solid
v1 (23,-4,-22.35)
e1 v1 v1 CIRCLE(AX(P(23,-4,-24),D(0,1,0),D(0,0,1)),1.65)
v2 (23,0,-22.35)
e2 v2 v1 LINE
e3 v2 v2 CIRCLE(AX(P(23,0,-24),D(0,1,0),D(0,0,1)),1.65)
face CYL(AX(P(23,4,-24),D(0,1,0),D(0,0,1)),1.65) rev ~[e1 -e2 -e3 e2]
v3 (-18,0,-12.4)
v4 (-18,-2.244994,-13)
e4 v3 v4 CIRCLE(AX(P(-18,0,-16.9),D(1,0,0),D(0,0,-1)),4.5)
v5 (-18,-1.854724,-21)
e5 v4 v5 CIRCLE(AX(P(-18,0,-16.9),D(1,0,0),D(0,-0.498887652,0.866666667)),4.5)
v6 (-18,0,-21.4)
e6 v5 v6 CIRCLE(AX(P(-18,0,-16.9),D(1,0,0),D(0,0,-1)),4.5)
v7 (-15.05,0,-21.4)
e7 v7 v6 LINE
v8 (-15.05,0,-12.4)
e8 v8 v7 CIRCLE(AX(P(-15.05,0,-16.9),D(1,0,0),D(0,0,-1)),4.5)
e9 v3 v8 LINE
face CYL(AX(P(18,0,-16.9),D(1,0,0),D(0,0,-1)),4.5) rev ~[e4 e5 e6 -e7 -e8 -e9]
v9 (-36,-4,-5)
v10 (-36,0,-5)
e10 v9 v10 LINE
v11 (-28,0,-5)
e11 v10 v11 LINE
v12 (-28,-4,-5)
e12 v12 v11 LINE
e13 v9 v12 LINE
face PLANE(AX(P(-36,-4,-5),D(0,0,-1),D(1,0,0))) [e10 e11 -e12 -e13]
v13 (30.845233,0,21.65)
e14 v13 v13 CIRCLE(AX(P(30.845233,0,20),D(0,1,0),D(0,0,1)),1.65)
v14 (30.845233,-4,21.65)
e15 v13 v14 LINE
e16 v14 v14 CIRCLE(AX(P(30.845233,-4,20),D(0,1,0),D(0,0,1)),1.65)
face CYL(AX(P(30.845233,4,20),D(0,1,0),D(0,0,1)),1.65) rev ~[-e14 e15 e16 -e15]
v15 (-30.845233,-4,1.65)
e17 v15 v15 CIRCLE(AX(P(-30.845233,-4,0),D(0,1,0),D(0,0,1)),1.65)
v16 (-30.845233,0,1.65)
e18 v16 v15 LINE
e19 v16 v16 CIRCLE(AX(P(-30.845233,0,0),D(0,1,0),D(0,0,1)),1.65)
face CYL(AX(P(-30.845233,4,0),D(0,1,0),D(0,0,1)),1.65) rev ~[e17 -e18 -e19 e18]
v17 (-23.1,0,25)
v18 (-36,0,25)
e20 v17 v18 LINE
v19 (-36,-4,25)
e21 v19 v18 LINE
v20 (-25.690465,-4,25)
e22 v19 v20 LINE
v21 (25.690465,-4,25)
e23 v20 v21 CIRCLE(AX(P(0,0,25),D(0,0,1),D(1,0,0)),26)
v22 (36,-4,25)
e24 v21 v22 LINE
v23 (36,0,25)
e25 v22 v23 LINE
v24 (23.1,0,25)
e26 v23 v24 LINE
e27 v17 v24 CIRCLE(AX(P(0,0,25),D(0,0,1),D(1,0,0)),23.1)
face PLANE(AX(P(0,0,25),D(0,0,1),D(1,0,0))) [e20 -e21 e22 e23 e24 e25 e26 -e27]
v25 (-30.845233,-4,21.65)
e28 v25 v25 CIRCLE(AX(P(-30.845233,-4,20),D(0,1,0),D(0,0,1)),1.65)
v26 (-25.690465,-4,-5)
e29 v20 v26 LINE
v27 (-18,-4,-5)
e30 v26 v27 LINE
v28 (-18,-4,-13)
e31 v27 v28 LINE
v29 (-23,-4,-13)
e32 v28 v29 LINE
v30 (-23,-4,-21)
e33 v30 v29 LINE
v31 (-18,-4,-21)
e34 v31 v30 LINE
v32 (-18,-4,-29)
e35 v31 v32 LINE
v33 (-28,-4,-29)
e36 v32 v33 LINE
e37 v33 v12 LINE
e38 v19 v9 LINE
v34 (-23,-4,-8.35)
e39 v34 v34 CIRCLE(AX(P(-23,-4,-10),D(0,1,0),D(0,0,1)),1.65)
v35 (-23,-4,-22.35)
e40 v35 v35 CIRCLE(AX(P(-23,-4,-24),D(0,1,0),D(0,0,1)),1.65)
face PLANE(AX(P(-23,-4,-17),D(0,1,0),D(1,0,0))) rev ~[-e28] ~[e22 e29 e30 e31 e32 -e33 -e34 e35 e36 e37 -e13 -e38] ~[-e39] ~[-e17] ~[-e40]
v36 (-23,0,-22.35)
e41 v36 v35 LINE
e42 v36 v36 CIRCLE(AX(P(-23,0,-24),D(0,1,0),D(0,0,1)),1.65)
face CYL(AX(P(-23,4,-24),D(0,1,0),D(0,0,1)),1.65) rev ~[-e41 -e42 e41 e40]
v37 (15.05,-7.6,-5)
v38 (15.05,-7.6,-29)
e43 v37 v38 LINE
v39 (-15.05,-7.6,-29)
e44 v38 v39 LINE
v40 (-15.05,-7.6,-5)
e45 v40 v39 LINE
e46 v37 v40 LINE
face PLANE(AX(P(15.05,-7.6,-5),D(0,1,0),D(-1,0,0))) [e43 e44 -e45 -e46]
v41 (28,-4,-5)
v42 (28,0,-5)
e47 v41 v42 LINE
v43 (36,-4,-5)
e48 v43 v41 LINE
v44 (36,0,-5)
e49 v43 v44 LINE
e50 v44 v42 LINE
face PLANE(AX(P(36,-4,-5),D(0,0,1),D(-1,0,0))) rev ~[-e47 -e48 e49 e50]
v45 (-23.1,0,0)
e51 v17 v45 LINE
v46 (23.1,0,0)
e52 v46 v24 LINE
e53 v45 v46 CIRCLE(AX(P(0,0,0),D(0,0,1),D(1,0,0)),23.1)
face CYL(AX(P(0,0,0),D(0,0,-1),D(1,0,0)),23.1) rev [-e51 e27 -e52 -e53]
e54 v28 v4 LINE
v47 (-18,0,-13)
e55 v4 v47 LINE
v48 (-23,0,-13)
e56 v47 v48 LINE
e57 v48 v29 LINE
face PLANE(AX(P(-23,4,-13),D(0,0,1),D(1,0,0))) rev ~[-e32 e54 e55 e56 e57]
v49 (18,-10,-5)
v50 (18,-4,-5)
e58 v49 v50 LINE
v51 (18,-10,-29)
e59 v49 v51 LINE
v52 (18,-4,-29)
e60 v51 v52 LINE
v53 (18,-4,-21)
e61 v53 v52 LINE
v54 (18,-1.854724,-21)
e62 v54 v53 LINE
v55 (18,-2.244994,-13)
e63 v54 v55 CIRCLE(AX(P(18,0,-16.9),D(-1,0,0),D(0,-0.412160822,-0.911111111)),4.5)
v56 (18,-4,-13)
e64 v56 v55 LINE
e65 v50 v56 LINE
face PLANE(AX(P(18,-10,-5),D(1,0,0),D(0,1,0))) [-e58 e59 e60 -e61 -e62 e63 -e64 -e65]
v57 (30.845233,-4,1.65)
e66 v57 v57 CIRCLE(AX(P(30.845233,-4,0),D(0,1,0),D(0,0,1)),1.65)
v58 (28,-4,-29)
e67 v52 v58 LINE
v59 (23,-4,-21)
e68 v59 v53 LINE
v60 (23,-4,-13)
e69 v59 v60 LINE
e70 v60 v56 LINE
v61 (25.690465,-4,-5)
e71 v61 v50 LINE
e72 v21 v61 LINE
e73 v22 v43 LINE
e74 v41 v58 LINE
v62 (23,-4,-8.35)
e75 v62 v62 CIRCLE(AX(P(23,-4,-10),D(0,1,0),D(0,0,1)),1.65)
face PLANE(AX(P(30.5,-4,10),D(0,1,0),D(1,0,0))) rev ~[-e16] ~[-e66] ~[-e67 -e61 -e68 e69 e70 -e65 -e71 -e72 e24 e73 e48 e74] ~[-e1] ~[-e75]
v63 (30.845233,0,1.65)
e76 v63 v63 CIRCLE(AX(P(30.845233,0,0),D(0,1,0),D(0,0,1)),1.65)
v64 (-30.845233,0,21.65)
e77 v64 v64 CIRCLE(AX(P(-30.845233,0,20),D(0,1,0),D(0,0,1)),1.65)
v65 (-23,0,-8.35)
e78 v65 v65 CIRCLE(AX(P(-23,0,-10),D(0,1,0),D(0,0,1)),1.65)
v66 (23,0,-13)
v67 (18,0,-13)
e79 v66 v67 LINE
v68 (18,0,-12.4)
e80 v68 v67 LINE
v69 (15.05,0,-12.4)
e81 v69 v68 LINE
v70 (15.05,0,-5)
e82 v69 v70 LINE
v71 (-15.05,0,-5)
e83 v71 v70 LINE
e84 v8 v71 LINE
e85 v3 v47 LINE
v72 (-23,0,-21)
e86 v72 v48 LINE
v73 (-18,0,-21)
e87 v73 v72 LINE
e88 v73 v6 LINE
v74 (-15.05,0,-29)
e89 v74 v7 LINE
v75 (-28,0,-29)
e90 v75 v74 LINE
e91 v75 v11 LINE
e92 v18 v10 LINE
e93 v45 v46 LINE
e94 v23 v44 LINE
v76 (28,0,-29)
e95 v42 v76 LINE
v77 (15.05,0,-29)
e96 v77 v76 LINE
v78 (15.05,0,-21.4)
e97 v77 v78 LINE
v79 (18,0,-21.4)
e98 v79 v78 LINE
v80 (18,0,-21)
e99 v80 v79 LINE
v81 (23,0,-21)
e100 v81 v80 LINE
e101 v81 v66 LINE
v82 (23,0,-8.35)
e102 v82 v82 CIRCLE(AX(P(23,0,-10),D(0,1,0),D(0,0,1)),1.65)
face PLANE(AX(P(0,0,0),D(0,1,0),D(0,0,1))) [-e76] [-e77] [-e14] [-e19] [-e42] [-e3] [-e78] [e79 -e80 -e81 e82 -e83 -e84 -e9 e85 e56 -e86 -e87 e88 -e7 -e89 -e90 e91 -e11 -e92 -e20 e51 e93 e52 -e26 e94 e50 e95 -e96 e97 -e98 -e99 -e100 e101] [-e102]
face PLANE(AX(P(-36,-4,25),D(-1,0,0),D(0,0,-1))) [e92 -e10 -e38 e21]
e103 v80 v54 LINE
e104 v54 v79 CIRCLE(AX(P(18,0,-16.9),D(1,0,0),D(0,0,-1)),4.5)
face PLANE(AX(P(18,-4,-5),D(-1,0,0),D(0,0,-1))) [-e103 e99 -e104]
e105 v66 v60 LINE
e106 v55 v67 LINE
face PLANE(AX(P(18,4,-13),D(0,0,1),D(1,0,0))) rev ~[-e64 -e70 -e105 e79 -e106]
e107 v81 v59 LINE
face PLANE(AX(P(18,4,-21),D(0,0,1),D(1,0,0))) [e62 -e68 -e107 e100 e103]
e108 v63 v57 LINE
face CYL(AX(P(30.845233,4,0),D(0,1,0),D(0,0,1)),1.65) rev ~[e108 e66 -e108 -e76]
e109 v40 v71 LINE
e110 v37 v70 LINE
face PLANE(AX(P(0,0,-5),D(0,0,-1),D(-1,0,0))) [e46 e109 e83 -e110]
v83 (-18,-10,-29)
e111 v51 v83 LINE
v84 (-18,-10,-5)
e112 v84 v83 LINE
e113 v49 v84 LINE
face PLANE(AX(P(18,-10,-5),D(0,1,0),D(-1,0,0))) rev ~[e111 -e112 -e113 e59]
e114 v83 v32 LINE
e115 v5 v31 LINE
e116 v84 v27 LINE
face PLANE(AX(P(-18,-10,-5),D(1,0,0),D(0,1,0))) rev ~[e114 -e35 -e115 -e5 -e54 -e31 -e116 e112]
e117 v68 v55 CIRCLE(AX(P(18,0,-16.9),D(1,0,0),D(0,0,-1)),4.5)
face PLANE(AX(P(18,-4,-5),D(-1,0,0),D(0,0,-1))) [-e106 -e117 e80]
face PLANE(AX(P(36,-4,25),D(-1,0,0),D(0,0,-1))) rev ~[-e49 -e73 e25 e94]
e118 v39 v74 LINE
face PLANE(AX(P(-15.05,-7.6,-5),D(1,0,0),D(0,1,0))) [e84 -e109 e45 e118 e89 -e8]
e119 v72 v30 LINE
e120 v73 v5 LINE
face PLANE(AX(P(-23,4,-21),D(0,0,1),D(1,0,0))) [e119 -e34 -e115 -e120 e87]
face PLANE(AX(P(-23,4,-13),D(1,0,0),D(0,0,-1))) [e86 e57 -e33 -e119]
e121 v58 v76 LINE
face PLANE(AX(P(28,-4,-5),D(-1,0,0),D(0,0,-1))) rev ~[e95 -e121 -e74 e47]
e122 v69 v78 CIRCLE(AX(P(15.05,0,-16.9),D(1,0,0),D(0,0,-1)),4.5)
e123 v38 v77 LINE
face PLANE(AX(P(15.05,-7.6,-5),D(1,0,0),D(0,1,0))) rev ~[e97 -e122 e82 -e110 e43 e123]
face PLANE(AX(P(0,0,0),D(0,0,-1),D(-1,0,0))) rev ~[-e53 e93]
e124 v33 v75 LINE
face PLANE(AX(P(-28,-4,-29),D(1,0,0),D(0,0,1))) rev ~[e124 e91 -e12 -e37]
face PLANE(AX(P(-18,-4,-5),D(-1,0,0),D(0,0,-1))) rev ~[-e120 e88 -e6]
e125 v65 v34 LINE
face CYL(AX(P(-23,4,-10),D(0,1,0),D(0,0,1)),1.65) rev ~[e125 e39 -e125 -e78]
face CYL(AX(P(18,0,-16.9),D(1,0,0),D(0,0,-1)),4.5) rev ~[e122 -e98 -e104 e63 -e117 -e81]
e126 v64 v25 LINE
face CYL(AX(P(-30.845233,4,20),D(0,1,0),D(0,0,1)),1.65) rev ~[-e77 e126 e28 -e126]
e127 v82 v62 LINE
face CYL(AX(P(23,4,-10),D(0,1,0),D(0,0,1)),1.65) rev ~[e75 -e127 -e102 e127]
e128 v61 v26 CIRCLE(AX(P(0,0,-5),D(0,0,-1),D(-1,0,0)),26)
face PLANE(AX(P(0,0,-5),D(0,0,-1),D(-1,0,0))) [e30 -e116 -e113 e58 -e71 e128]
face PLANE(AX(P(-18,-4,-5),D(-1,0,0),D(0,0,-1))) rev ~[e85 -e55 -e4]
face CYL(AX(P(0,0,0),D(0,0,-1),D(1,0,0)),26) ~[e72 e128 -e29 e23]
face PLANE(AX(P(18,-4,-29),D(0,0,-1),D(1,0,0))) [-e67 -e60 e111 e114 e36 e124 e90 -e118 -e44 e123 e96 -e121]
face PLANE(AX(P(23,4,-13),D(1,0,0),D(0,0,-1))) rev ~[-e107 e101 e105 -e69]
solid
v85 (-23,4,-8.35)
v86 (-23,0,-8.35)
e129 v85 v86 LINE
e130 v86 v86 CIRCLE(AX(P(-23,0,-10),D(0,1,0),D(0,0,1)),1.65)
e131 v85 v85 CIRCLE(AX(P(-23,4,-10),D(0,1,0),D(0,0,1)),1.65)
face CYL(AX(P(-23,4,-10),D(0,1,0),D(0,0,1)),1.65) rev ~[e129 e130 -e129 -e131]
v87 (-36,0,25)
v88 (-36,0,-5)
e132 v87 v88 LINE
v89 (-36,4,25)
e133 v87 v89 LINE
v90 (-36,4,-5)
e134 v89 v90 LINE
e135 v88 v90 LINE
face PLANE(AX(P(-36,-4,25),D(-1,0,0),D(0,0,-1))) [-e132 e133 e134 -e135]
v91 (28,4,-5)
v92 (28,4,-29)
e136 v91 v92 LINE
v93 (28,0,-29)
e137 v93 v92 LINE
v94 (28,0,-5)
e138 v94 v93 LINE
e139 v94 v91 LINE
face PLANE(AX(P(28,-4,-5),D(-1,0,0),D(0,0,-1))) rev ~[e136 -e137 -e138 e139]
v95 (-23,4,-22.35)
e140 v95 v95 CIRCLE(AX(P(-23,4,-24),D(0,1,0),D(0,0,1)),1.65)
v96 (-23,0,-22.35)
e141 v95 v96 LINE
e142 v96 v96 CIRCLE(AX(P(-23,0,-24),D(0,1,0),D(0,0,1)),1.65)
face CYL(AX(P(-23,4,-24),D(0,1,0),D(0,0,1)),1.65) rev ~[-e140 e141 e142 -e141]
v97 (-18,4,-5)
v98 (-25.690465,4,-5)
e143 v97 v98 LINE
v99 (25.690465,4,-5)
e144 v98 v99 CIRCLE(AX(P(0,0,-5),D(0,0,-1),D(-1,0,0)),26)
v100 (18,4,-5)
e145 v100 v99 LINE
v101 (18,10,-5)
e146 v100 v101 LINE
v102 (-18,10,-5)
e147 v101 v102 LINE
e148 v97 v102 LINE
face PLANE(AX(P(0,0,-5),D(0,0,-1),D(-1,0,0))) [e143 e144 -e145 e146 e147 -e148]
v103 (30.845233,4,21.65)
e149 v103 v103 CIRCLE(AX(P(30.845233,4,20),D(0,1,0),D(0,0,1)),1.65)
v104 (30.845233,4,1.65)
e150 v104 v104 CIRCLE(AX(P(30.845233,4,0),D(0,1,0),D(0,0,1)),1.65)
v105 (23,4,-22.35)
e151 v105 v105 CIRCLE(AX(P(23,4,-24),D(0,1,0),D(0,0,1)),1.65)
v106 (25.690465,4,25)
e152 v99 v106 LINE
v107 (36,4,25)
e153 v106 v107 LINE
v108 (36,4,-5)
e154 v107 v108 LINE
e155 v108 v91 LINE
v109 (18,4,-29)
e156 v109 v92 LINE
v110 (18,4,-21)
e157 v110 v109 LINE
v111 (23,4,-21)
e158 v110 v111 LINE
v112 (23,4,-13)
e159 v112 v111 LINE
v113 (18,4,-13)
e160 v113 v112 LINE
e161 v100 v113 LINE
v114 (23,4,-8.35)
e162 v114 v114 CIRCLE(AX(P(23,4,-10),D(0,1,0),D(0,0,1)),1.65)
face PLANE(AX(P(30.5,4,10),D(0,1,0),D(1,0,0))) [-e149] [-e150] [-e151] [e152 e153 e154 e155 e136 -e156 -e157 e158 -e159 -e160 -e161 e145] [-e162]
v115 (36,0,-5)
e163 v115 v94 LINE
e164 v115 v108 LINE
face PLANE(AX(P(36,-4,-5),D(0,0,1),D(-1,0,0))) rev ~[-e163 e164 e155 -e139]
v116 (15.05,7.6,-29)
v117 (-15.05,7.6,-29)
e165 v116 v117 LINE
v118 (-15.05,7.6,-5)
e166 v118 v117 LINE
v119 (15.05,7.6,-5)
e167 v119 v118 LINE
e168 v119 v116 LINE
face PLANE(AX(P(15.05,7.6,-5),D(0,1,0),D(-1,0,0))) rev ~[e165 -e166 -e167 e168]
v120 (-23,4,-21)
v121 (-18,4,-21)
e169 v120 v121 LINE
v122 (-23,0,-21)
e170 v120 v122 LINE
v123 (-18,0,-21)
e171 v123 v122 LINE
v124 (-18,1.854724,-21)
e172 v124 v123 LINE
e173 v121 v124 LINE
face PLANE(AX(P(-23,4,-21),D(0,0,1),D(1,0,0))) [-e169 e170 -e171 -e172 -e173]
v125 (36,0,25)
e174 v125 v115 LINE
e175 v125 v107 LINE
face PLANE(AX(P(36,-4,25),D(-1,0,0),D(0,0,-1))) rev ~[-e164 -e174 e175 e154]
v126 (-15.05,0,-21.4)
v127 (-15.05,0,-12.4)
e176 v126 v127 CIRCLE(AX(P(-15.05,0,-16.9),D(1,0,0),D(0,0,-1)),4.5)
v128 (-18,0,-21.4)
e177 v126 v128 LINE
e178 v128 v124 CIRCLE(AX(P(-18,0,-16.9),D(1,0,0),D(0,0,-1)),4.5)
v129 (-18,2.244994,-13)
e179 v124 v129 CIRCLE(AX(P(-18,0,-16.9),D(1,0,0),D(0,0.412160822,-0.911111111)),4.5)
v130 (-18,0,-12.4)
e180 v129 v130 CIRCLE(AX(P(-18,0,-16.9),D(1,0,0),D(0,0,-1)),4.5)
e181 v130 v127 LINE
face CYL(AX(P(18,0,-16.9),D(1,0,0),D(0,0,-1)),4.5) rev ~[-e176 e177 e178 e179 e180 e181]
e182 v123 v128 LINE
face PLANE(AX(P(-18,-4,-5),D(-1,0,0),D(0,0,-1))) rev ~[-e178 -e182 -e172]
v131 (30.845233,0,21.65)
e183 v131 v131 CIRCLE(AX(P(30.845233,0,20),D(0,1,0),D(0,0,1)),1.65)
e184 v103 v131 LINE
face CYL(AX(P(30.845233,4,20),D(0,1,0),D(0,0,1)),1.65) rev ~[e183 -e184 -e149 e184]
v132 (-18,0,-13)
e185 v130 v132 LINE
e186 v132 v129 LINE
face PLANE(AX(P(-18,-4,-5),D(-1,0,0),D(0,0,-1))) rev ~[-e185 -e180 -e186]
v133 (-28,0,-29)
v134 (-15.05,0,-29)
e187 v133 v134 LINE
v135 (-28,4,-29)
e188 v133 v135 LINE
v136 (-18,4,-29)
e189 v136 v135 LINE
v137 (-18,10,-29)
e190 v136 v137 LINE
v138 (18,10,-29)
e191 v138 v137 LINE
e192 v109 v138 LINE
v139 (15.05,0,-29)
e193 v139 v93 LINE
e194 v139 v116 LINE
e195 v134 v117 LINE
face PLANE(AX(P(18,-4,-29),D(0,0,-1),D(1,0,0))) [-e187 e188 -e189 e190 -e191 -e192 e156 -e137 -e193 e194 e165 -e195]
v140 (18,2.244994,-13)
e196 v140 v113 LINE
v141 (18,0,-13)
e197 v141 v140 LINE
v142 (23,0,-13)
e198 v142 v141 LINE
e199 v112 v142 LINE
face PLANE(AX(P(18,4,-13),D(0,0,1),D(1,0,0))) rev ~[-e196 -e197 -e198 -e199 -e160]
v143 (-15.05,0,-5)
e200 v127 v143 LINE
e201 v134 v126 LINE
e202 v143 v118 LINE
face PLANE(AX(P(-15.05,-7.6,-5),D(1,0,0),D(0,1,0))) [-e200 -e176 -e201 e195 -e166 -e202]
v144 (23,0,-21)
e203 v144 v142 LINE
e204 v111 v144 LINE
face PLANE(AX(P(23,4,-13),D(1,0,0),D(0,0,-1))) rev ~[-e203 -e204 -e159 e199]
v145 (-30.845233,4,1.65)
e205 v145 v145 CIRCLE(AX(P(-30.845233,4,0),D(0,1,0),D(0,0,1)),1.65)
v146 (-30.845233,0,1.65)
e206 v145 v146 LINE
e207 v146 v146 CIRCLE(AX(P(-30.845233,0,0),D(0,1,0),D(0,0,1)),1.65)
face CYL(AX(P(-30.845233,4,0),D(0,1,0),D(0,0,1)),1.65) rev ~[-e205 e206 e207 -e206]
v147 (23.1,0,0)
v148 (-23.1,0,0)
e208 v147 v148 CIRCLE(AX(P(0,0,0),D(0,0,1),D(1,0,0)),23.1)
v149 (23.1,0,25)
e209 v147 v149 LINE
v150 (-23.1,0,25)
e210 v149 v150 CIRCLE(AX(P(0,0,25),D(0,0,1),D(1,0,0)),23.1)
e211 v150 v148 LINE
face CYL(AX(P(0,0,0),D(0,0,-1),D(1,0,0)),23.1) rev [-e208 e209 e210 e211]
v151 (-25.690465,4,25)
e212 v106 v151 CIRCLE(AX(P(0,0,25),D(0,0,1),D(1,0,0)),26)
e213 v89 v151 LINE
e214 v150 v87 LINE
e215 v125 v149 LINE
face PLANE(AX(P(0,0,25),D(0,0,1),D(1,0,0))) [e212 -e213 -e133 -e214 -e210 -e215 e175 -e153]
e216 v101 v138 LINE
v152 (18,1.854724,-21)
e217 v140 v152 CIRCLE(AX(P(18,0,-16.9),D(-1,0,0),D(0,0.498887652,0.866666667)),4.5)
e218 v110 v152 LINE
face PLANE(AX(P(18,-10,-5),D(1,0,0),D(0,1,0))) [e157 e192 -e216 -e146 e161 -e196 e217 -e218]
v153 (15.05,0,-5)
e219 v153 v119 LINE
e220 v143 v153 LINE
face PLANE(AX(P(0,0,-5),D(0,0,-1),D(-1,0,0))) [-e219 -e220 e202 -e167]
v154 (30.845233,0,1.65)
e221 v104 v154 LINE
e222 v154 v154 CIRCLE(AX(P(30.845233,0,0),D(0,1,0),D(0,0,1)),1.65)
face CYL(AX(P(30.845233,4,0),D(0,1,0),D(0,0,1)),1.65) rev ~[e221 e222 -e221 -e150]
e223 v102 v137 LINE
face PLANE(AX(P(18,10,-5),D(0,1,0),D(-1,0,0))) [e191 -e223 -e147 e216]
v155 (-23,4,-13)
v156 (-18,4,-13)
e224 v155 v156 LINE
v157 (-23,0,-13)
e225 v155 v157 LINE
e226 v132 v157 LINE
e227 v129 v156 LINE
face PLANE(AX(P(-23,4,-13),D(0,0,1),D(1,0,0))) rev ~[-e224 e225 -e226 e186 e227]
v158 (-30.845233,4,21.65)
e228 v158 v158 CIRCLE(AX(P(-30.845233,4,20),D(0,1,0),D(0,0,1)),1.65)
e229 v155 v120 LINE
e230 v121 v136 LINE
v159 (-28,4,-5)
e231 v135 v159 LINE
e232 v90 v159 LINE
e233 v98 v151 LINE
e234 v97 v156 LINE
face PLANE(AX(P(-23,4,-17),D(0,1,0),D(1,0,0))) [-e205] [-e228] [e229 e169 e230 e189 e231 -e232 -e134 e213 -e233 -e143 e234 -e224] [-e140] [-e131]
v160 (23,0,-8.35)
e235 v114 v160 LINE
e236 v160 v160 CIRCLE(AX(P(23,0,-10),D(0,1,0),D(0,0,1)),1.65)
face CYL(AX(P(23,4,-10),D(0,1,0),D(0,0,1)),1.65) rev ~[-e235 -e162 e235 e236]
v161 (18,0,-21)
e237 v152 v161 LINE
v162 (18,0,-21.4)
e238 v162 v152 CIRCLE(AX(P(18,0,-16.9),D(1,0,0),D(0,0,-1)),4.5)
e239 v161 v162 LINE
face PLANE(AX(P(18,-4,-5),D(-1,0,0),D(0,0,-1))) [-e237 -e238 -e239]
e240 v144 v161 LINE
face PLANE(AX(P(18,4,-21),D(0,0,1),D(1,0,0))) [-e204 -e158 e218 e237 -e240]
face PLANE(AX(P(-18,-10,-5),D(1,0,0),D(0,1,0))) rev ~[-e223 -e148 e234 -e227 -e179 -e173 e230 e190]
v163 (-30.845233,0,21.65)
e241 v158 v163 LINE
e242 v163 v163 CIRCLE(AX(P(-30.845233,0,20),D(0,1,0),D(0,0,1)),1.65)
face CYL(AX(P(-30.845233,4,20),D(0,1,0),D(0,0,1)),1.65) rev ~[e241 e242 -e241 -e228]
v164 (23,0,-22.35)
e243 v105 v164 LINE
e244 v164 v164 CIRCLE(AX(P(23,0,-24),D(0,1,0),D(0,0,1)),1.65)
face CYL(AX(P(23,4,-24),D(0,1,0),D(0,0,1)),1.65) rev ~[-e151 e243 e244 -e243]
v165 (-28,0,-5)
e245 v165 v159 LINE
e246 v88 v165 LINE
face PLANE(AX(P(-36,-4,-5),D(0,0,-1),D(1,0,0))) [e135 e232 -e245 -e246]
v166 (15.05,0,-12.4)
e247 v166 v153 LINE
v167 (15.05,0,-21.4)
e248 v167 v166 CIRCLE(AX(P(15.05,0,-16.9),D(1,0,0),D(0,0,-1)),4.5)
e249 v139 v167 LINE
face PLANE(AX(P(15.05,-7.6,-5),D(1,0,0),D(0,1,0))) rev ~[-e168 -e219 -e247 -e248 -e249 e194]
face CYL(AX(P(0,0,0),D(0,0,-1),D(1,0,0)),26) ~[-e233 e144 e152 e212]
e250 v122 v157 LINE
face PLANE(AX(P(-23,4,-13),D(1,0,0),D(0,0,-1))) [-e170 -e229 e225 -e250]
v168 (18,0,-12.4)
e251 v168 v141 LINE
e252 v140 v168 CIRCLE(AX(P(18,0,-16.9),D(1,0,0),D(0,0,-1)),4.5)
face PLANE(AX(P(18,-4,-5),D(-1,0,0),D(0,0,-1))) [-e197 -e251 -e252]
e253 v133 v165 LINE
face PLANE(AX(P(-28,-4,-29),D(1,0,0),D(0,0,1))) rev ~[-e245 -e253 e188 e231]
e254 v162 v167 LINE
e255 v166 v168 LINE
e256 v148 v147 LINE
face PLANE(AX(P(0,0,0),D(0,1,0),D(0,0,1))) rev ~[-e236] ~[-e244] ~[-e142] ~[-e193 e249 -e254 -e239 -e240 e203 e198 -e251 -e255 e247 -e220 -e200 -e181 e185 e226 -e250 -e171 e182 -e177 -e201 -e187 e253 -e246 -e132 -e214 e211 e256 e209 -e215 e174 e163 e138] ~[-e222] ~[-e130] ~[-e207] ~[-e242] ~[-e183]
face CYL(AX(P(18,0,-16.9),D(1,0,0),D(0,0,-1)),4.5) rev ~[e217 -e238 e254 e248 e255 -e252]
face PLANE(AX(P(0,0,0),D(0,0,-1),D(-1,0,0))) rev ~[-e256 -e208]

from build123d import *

# Parameters (mm, degrees)
SKETCH_1_R           = 26
SKETCH_1_R_2         = 23.1
EXTRUDE_1_DEPTH      = 25
EXTRUDE_START        = 5
SKETCH_2_R           = 26
EXTRUDE_2_DEPTH      = 5
SKETCH_3_W           = 36
SKETCH_3_H           = 20
SKETCH_3_W_2         = 30.1
SKETCH_3_H_2         = 15.2
EXTRUDE_3_DEPTH      = 24
CUT_EXTRUDE_1_REACH  = 60.762
SKETCH_4_R           = 4.5
EXTRUDE_4_DEPTH      = 4
EXTRUDE_4_DEPTH_BACK = 4
SKETCH_5_W           = 10
SKETCH_5_H           = 24
SKETCH_5_W_2         = 11
SKETCH_5_H_2         = 30
CUT_EXTRUDE_2_REACH  = 57.109
SKETCH_6_R           = 1.65
SKETCH_6_W           = 5
SKETCH_6_H           = 8


with BuildPart() as part:
    # ｽｹｯﾁ1 → ﾎﾞｽ - 押し出し1 (new body)
    with BuildSketch(Plane.XY):
        Circle(SKETCH_1_R)
        Circle(SKETCH_1_R_2, mode=Mode.SUBTRACT)
    extrude(amount=EXTRUDE_1_DEPTH)

    # ｽｹｯﾁ2 → ﾎﾞｽ - 押し出し2 (add)
    with BuildSketch(Plane(origin=(0, 0, 0), x_dir=(-1, 0, 0), z_dir=(0, 0, -1)).offset(EXTRUDE_START)):
        Circle(SKETCH_2_R)
    extrude(amount=-EXTRUDE_2_DEPTH)

    # ｽｹｯﾁ3 → ﾎﾞｽ - 押し出し3 (add)
    with BuildSketch(Plane(origin=(0, 0, -5), x_dir=(-1, 0, 0), z_dir=(0, 0, -1))):
        Rectangle(SKETCH_3_W, SKETCH_3_H)
        Rectangle(SKETCH_3_W_2, SKETCH_3_H_2, mode=Mode.SUBTRACT)
    extrude(amount=EXTRUDE_3_DEPTH)

    # ｶｯﾄ - 押し出し1: up to this face of the body (flat: up to its plane)
    cut_extrude_1_end = Plane(part.part.faces().sort_by_distance((-18, 0, -17))[0])
    # ｽｹｯﾁ4 → ｶｯﾄ - 押し出し1 (cut, up to the picked face)
    with BuildSketch(Plane(origin=(18, 0, 0), x_dir=(0, 0, -1), z_dir=(1, 0, 0)), mode=Mode.PRIVATE) as cut_extrude_1_sk1:
        with Locations((16.9, 0)):
            Circle(SKETCH_4_R)
    cut_extrude_1_tool1 = split(extrude(cut_extrude_1_sk1.sketch, amount=-CUT_EXTRUDE_1_REACH, mode=Mode.PRIVATE), bisect_by=cut_extrude_1_end, keep=Keep.BOTH, mode=Mode.PRIVATE)
    add(cut_extrude_1_tool1.solids().sort_by(Axis((18, 0, -16.9), (-1, 0, 0)))[0], mode=Mode.SUBTRACT)

    # ｽｹｯﾁ5 → ﾎﾞｽ - 押し出し4 (add, two sides: drawn at the far end of the back side and taken through both)
    with BuildSketch(Plane(origin=(0, 0, 0), x_dir=(1, 0, 0), z_dir=(0, 1, 0)).offset(-EXTRUDE_4_DEPTH_BACK)):
        Polygon((28, 5), (25, 5), (25, -25), (36, -25), (36, 5), align=None)
        with Locations((23, 17)):
            Rectangle(SKETCH_5_W, SKETCH_5_H)
        Polygon((-28, 29), (-28, 5), (-25, 5), (-18, 5), (-18, 29), align=None)
        with Locations((-30.5, -10)):
            Rectangle(SKETCH_5_W_2, SKETCH_5_H_2)
    extrude(amount=EXTRUDE_4_DEPTH + EXTRUDE_4_DEPTH_BACK)

    # ｽｹｯﾁ6 → ｶｯﾄ - 押し出し2 (cut, up to next)
    with BuildSketch(Plane(origin=(0, 4, 0), x_dir=(1, 0, 0), z_dir=(0, 1, 0)), mode=Mode.PRIVATE) as cut_extrude_2_sk1:
        with Locations(Location((23, 24, 0), (0, 0, 270))):
            Circle(SKETCH_6_R)
    cut_extrude_2_tool1 = extrude(cut_extrude_2_sk1.sketch, amount=-CUT_EXTRUDE_2_REACH, mode=Mode.PRIVATE) & part.part
    # ｽｹｯﾁ6 → ｶｯﾄ - 押し出し2 (cut, up to next)
    with BuildSketch(Plane(origin=(0, 4, 0), x_dir=(1, 0, 0), z_dir=(0, 1, 0)), mode=Mode.PRIVATE) as cut_extrude_2_sk2:
        with Locations(Location((23, 10, 0), (0, 0, 270))):
            Circle(SKETCH_6_R)
    cut_extrude_2_tool2 = extrude(cut_extrude_2_sk2.sketch, amount=-CUT_EXTRUDE_2_REACH, mode=Mode.PRIVATE) & part.part
    # ｽｹｯﾁ6 → ｶｯﾄ - 押し出し2 (cut, up to next)
    with BuildSketch(Plane(origin=(0, 4, 0), x_dir=(1, 0, 0), z_dir=(0, 1, 0)), mode=Mode.PRIVATE) as cut_extrude_2_sk3:
        with Locations(Location((30.845232579, 0, 0), (0, 0, 270))):
            Circle(SKETCH_6_R)
    cut_extrude_2_tool3 = extrude(cut_extrude_2_sk3.sketch, amount=-CUT_EXTRUDE_2_REACH, mode=Mode.PRIVATE) & part.part
    # ｽｹｯﾁ6 → ｶｯﾄ - 押し出し2 (cut, up to next)
    with BuildSketch(Plane(origin=(0, 4, 0), x_dir=(1, 0, 0), z_dir=(0, 1, 0)), mode=Mode.PRIVATE) as cut_extrude_2_sk4:
        with Locations(Location((30.845232579, -20, 0), (0, 0, 270))):
            Circle(SKETCH_6_R)
    cut_extrude_2_tool4 = extrude(cut_extrude_2_sk4.sketch, amount=-CUT_EXTRUDE_2_REACH, mode=Mode.PRIVATE) & part.part
    # ｽｹｯﾁ6 → ｶｯﾄ - 押し出し2 (cut, up to next)
    with BuildSketch(Plane(origin=(0, 4, 0), x_dir=(1, 0, 0), z_dir=(0, 1, 0)), mode=Mode.PRIVATE) as cut_extrude_2_sk5:
        with Locations(Location((-30.845232579, -20, 0), (0, 0, 270))):
            Circle(SKETCH_6_R)
    cut_extrude_2_tool5 = extrude(cut_extrude_2_sk5.sketch, amount=-CUT_EXTRUDE_2_REACH, mode=Mode.PRIVATE) & part.part
    # ｽｹｯﾁ6 → ｶｯﾄ - 押し出し2 (cut, up to next)
    with BuildSketch(Plane(origin=(0, 4, 0), x_dir=(1, 0, 0), z_dir=(0, 1, 0)), mode=Mode.PRIVATE) as cut_extrude_2_sk6:
        with Locations(Location((-30.845232579, 0, 0), (0, 0, 270))):
            Circle(SKETCH_6_R)
    cut_extrude_2_tool6 = extrude(cut_extrude_2_sk6.sketch, amount=-CUT_EXTRUDE_2_REACH, mode=Mode.PRIVATE) & part.part
    # ｽｹｯﾁ6 → ｶｯﾄ - 押し出し2 (cut, up to next)
    with BuildSketch(Plane(origin=(0, 4, 0), x_dir=(1, 0, 0), z_dir=(0, 1, 0)), mode=Mode.PRIVATE) as cut_extrude_2_sk7:
        with Locations(Location((-23, 10, 0), (0, 0, 270))):
            Circle(SKETCH_6_R)
    cut_extrude_2_tool7 = extrude(cut_extrude_2_sk7.sketch, amount=-CUT_EXTRUDE_2_REACH, mode=Mode.PRIVATE) & part.part
    # ｽｹｯﾁ6 → ｶｯﾄ - 押し出し2 (cut, up to next)
    with BuildSketch(Plane(origin=(0, 4, 0), x_dir=(1, 0, 0), z_dir=(0, 1, 0)), mode=Mode.PRIVATE) as cut_extrude_2_sk8:
        with Locations(Location((-23, 24, 0), (0, 0, 270))):
            Circle(SKETCH_6_R)
    cut_extrude_2_tool8 = extrude(cut_extrude_2_sk8.sketch, amount=-CUT_EXTRUDE_2_REACH, mode=Mode.PRIVATE) & part.part
    # ｽｹｯﾁ6 → ｶｯﾄ - 押し出し2 (cut, up to next)
    with BuildSketch(Plane(origin=(0, 4, 0), x_dir=(1, 0, 0), z_dir=(0, 1, 0)), mode=Mode.PRIVATE) as cut_extrude_2_sk9:
        with Locations((20.5, 17)):
            Rectangle(SKETCH_6_W, SKETCH_6_H)
    cut_extrude_2_tool9 = extrude(cut_extrude_2_sk9.sketch, amount=-CUT_EXTRUDE_2_REACH, mode=Mode.PRIVATE) & part.part
    # ｽｹｯﾁ6 → ｶｯﾄ - 押し出し2 (cut, up to next)
    with BuildSketch(Plane(origin=(0, 4, 0), x_dir=(1, 0, 0), z_dir=(0, 1, 0)), mode=Mode.PRIVATE) as cut_extrude_2_sk10:
        with Locations((-20.5, 17)):
            Rectangle(SKETCH_6_W, SKETCH_6_H)
    cut_extrude_2_tool10 = extrude(cut_extrude_2_sk10.sketch, amount=-CUT_EXTRUDE_2_REACH, mode=Mode.PRIVATE) & part.part
    add(cut_extrude_2_tool1.solids().sort_by_distance((23, 4, -24))[0], mode=Mode.SUBTRACT)
    add(cut_extrude_2_tool2.solids().sort_by_distance((23, 4, -10))[0], mode=Mode.SUBTRACT)
    add(cut_extrude_2_tool3.solids().sort_by_distance((30.845233, 4, 0))[0], mode=Mode.SUBTRACT)
    add(cut_extrude_2_tool4.solids().sort_by_distance((30.845233, 4, 20))[0], mode=Mode.SUBTRACT)
    add(cut_extrude_2_tool5.solids().sort_by_distance((-30.845233, 4, 20))[0], mode=Mode.SUBTRACT)
    add(cut_extrude_2_tool6.solids().sort_by_distance((-30.845233, 4, 0))[0], mode=Mode.SUBTRACT)
    add(cut_extrude_2_tool7.solids().sort_by_distance((-23, 4, -10))[0], mode=Mode.SUBTRACT)
    add(cut_extrude_2_tool8.solids().sort_by_distance((-23, 4, -24))[0], mode=Mode.SUBTRACT)
    add(cut_extrude_2_tool9.solids().sort_by_distance((20.5, 4, -17))[0], mode=Mode.SUBTRACT)
    add(cut_extrude_2_tool10.solids().sort_by_distance((-20.5, 4, -17))[0], mode=Mode.SUBTRACT)


with BuildPart() as body_2:
    # Split Bodies 1: the piece on the far side of the plane
    add(part.part)
    split(bisect_by=Plane.ZX, keep=Keep.BOTTOM)


with BuildPart() as part_1:
    add(part.part)

    # Split Bodies 1
    split(bisect_by=Plane.ZX, keep=Keep.TOP)


solid = Compound([body_2.part, part_1.part])
